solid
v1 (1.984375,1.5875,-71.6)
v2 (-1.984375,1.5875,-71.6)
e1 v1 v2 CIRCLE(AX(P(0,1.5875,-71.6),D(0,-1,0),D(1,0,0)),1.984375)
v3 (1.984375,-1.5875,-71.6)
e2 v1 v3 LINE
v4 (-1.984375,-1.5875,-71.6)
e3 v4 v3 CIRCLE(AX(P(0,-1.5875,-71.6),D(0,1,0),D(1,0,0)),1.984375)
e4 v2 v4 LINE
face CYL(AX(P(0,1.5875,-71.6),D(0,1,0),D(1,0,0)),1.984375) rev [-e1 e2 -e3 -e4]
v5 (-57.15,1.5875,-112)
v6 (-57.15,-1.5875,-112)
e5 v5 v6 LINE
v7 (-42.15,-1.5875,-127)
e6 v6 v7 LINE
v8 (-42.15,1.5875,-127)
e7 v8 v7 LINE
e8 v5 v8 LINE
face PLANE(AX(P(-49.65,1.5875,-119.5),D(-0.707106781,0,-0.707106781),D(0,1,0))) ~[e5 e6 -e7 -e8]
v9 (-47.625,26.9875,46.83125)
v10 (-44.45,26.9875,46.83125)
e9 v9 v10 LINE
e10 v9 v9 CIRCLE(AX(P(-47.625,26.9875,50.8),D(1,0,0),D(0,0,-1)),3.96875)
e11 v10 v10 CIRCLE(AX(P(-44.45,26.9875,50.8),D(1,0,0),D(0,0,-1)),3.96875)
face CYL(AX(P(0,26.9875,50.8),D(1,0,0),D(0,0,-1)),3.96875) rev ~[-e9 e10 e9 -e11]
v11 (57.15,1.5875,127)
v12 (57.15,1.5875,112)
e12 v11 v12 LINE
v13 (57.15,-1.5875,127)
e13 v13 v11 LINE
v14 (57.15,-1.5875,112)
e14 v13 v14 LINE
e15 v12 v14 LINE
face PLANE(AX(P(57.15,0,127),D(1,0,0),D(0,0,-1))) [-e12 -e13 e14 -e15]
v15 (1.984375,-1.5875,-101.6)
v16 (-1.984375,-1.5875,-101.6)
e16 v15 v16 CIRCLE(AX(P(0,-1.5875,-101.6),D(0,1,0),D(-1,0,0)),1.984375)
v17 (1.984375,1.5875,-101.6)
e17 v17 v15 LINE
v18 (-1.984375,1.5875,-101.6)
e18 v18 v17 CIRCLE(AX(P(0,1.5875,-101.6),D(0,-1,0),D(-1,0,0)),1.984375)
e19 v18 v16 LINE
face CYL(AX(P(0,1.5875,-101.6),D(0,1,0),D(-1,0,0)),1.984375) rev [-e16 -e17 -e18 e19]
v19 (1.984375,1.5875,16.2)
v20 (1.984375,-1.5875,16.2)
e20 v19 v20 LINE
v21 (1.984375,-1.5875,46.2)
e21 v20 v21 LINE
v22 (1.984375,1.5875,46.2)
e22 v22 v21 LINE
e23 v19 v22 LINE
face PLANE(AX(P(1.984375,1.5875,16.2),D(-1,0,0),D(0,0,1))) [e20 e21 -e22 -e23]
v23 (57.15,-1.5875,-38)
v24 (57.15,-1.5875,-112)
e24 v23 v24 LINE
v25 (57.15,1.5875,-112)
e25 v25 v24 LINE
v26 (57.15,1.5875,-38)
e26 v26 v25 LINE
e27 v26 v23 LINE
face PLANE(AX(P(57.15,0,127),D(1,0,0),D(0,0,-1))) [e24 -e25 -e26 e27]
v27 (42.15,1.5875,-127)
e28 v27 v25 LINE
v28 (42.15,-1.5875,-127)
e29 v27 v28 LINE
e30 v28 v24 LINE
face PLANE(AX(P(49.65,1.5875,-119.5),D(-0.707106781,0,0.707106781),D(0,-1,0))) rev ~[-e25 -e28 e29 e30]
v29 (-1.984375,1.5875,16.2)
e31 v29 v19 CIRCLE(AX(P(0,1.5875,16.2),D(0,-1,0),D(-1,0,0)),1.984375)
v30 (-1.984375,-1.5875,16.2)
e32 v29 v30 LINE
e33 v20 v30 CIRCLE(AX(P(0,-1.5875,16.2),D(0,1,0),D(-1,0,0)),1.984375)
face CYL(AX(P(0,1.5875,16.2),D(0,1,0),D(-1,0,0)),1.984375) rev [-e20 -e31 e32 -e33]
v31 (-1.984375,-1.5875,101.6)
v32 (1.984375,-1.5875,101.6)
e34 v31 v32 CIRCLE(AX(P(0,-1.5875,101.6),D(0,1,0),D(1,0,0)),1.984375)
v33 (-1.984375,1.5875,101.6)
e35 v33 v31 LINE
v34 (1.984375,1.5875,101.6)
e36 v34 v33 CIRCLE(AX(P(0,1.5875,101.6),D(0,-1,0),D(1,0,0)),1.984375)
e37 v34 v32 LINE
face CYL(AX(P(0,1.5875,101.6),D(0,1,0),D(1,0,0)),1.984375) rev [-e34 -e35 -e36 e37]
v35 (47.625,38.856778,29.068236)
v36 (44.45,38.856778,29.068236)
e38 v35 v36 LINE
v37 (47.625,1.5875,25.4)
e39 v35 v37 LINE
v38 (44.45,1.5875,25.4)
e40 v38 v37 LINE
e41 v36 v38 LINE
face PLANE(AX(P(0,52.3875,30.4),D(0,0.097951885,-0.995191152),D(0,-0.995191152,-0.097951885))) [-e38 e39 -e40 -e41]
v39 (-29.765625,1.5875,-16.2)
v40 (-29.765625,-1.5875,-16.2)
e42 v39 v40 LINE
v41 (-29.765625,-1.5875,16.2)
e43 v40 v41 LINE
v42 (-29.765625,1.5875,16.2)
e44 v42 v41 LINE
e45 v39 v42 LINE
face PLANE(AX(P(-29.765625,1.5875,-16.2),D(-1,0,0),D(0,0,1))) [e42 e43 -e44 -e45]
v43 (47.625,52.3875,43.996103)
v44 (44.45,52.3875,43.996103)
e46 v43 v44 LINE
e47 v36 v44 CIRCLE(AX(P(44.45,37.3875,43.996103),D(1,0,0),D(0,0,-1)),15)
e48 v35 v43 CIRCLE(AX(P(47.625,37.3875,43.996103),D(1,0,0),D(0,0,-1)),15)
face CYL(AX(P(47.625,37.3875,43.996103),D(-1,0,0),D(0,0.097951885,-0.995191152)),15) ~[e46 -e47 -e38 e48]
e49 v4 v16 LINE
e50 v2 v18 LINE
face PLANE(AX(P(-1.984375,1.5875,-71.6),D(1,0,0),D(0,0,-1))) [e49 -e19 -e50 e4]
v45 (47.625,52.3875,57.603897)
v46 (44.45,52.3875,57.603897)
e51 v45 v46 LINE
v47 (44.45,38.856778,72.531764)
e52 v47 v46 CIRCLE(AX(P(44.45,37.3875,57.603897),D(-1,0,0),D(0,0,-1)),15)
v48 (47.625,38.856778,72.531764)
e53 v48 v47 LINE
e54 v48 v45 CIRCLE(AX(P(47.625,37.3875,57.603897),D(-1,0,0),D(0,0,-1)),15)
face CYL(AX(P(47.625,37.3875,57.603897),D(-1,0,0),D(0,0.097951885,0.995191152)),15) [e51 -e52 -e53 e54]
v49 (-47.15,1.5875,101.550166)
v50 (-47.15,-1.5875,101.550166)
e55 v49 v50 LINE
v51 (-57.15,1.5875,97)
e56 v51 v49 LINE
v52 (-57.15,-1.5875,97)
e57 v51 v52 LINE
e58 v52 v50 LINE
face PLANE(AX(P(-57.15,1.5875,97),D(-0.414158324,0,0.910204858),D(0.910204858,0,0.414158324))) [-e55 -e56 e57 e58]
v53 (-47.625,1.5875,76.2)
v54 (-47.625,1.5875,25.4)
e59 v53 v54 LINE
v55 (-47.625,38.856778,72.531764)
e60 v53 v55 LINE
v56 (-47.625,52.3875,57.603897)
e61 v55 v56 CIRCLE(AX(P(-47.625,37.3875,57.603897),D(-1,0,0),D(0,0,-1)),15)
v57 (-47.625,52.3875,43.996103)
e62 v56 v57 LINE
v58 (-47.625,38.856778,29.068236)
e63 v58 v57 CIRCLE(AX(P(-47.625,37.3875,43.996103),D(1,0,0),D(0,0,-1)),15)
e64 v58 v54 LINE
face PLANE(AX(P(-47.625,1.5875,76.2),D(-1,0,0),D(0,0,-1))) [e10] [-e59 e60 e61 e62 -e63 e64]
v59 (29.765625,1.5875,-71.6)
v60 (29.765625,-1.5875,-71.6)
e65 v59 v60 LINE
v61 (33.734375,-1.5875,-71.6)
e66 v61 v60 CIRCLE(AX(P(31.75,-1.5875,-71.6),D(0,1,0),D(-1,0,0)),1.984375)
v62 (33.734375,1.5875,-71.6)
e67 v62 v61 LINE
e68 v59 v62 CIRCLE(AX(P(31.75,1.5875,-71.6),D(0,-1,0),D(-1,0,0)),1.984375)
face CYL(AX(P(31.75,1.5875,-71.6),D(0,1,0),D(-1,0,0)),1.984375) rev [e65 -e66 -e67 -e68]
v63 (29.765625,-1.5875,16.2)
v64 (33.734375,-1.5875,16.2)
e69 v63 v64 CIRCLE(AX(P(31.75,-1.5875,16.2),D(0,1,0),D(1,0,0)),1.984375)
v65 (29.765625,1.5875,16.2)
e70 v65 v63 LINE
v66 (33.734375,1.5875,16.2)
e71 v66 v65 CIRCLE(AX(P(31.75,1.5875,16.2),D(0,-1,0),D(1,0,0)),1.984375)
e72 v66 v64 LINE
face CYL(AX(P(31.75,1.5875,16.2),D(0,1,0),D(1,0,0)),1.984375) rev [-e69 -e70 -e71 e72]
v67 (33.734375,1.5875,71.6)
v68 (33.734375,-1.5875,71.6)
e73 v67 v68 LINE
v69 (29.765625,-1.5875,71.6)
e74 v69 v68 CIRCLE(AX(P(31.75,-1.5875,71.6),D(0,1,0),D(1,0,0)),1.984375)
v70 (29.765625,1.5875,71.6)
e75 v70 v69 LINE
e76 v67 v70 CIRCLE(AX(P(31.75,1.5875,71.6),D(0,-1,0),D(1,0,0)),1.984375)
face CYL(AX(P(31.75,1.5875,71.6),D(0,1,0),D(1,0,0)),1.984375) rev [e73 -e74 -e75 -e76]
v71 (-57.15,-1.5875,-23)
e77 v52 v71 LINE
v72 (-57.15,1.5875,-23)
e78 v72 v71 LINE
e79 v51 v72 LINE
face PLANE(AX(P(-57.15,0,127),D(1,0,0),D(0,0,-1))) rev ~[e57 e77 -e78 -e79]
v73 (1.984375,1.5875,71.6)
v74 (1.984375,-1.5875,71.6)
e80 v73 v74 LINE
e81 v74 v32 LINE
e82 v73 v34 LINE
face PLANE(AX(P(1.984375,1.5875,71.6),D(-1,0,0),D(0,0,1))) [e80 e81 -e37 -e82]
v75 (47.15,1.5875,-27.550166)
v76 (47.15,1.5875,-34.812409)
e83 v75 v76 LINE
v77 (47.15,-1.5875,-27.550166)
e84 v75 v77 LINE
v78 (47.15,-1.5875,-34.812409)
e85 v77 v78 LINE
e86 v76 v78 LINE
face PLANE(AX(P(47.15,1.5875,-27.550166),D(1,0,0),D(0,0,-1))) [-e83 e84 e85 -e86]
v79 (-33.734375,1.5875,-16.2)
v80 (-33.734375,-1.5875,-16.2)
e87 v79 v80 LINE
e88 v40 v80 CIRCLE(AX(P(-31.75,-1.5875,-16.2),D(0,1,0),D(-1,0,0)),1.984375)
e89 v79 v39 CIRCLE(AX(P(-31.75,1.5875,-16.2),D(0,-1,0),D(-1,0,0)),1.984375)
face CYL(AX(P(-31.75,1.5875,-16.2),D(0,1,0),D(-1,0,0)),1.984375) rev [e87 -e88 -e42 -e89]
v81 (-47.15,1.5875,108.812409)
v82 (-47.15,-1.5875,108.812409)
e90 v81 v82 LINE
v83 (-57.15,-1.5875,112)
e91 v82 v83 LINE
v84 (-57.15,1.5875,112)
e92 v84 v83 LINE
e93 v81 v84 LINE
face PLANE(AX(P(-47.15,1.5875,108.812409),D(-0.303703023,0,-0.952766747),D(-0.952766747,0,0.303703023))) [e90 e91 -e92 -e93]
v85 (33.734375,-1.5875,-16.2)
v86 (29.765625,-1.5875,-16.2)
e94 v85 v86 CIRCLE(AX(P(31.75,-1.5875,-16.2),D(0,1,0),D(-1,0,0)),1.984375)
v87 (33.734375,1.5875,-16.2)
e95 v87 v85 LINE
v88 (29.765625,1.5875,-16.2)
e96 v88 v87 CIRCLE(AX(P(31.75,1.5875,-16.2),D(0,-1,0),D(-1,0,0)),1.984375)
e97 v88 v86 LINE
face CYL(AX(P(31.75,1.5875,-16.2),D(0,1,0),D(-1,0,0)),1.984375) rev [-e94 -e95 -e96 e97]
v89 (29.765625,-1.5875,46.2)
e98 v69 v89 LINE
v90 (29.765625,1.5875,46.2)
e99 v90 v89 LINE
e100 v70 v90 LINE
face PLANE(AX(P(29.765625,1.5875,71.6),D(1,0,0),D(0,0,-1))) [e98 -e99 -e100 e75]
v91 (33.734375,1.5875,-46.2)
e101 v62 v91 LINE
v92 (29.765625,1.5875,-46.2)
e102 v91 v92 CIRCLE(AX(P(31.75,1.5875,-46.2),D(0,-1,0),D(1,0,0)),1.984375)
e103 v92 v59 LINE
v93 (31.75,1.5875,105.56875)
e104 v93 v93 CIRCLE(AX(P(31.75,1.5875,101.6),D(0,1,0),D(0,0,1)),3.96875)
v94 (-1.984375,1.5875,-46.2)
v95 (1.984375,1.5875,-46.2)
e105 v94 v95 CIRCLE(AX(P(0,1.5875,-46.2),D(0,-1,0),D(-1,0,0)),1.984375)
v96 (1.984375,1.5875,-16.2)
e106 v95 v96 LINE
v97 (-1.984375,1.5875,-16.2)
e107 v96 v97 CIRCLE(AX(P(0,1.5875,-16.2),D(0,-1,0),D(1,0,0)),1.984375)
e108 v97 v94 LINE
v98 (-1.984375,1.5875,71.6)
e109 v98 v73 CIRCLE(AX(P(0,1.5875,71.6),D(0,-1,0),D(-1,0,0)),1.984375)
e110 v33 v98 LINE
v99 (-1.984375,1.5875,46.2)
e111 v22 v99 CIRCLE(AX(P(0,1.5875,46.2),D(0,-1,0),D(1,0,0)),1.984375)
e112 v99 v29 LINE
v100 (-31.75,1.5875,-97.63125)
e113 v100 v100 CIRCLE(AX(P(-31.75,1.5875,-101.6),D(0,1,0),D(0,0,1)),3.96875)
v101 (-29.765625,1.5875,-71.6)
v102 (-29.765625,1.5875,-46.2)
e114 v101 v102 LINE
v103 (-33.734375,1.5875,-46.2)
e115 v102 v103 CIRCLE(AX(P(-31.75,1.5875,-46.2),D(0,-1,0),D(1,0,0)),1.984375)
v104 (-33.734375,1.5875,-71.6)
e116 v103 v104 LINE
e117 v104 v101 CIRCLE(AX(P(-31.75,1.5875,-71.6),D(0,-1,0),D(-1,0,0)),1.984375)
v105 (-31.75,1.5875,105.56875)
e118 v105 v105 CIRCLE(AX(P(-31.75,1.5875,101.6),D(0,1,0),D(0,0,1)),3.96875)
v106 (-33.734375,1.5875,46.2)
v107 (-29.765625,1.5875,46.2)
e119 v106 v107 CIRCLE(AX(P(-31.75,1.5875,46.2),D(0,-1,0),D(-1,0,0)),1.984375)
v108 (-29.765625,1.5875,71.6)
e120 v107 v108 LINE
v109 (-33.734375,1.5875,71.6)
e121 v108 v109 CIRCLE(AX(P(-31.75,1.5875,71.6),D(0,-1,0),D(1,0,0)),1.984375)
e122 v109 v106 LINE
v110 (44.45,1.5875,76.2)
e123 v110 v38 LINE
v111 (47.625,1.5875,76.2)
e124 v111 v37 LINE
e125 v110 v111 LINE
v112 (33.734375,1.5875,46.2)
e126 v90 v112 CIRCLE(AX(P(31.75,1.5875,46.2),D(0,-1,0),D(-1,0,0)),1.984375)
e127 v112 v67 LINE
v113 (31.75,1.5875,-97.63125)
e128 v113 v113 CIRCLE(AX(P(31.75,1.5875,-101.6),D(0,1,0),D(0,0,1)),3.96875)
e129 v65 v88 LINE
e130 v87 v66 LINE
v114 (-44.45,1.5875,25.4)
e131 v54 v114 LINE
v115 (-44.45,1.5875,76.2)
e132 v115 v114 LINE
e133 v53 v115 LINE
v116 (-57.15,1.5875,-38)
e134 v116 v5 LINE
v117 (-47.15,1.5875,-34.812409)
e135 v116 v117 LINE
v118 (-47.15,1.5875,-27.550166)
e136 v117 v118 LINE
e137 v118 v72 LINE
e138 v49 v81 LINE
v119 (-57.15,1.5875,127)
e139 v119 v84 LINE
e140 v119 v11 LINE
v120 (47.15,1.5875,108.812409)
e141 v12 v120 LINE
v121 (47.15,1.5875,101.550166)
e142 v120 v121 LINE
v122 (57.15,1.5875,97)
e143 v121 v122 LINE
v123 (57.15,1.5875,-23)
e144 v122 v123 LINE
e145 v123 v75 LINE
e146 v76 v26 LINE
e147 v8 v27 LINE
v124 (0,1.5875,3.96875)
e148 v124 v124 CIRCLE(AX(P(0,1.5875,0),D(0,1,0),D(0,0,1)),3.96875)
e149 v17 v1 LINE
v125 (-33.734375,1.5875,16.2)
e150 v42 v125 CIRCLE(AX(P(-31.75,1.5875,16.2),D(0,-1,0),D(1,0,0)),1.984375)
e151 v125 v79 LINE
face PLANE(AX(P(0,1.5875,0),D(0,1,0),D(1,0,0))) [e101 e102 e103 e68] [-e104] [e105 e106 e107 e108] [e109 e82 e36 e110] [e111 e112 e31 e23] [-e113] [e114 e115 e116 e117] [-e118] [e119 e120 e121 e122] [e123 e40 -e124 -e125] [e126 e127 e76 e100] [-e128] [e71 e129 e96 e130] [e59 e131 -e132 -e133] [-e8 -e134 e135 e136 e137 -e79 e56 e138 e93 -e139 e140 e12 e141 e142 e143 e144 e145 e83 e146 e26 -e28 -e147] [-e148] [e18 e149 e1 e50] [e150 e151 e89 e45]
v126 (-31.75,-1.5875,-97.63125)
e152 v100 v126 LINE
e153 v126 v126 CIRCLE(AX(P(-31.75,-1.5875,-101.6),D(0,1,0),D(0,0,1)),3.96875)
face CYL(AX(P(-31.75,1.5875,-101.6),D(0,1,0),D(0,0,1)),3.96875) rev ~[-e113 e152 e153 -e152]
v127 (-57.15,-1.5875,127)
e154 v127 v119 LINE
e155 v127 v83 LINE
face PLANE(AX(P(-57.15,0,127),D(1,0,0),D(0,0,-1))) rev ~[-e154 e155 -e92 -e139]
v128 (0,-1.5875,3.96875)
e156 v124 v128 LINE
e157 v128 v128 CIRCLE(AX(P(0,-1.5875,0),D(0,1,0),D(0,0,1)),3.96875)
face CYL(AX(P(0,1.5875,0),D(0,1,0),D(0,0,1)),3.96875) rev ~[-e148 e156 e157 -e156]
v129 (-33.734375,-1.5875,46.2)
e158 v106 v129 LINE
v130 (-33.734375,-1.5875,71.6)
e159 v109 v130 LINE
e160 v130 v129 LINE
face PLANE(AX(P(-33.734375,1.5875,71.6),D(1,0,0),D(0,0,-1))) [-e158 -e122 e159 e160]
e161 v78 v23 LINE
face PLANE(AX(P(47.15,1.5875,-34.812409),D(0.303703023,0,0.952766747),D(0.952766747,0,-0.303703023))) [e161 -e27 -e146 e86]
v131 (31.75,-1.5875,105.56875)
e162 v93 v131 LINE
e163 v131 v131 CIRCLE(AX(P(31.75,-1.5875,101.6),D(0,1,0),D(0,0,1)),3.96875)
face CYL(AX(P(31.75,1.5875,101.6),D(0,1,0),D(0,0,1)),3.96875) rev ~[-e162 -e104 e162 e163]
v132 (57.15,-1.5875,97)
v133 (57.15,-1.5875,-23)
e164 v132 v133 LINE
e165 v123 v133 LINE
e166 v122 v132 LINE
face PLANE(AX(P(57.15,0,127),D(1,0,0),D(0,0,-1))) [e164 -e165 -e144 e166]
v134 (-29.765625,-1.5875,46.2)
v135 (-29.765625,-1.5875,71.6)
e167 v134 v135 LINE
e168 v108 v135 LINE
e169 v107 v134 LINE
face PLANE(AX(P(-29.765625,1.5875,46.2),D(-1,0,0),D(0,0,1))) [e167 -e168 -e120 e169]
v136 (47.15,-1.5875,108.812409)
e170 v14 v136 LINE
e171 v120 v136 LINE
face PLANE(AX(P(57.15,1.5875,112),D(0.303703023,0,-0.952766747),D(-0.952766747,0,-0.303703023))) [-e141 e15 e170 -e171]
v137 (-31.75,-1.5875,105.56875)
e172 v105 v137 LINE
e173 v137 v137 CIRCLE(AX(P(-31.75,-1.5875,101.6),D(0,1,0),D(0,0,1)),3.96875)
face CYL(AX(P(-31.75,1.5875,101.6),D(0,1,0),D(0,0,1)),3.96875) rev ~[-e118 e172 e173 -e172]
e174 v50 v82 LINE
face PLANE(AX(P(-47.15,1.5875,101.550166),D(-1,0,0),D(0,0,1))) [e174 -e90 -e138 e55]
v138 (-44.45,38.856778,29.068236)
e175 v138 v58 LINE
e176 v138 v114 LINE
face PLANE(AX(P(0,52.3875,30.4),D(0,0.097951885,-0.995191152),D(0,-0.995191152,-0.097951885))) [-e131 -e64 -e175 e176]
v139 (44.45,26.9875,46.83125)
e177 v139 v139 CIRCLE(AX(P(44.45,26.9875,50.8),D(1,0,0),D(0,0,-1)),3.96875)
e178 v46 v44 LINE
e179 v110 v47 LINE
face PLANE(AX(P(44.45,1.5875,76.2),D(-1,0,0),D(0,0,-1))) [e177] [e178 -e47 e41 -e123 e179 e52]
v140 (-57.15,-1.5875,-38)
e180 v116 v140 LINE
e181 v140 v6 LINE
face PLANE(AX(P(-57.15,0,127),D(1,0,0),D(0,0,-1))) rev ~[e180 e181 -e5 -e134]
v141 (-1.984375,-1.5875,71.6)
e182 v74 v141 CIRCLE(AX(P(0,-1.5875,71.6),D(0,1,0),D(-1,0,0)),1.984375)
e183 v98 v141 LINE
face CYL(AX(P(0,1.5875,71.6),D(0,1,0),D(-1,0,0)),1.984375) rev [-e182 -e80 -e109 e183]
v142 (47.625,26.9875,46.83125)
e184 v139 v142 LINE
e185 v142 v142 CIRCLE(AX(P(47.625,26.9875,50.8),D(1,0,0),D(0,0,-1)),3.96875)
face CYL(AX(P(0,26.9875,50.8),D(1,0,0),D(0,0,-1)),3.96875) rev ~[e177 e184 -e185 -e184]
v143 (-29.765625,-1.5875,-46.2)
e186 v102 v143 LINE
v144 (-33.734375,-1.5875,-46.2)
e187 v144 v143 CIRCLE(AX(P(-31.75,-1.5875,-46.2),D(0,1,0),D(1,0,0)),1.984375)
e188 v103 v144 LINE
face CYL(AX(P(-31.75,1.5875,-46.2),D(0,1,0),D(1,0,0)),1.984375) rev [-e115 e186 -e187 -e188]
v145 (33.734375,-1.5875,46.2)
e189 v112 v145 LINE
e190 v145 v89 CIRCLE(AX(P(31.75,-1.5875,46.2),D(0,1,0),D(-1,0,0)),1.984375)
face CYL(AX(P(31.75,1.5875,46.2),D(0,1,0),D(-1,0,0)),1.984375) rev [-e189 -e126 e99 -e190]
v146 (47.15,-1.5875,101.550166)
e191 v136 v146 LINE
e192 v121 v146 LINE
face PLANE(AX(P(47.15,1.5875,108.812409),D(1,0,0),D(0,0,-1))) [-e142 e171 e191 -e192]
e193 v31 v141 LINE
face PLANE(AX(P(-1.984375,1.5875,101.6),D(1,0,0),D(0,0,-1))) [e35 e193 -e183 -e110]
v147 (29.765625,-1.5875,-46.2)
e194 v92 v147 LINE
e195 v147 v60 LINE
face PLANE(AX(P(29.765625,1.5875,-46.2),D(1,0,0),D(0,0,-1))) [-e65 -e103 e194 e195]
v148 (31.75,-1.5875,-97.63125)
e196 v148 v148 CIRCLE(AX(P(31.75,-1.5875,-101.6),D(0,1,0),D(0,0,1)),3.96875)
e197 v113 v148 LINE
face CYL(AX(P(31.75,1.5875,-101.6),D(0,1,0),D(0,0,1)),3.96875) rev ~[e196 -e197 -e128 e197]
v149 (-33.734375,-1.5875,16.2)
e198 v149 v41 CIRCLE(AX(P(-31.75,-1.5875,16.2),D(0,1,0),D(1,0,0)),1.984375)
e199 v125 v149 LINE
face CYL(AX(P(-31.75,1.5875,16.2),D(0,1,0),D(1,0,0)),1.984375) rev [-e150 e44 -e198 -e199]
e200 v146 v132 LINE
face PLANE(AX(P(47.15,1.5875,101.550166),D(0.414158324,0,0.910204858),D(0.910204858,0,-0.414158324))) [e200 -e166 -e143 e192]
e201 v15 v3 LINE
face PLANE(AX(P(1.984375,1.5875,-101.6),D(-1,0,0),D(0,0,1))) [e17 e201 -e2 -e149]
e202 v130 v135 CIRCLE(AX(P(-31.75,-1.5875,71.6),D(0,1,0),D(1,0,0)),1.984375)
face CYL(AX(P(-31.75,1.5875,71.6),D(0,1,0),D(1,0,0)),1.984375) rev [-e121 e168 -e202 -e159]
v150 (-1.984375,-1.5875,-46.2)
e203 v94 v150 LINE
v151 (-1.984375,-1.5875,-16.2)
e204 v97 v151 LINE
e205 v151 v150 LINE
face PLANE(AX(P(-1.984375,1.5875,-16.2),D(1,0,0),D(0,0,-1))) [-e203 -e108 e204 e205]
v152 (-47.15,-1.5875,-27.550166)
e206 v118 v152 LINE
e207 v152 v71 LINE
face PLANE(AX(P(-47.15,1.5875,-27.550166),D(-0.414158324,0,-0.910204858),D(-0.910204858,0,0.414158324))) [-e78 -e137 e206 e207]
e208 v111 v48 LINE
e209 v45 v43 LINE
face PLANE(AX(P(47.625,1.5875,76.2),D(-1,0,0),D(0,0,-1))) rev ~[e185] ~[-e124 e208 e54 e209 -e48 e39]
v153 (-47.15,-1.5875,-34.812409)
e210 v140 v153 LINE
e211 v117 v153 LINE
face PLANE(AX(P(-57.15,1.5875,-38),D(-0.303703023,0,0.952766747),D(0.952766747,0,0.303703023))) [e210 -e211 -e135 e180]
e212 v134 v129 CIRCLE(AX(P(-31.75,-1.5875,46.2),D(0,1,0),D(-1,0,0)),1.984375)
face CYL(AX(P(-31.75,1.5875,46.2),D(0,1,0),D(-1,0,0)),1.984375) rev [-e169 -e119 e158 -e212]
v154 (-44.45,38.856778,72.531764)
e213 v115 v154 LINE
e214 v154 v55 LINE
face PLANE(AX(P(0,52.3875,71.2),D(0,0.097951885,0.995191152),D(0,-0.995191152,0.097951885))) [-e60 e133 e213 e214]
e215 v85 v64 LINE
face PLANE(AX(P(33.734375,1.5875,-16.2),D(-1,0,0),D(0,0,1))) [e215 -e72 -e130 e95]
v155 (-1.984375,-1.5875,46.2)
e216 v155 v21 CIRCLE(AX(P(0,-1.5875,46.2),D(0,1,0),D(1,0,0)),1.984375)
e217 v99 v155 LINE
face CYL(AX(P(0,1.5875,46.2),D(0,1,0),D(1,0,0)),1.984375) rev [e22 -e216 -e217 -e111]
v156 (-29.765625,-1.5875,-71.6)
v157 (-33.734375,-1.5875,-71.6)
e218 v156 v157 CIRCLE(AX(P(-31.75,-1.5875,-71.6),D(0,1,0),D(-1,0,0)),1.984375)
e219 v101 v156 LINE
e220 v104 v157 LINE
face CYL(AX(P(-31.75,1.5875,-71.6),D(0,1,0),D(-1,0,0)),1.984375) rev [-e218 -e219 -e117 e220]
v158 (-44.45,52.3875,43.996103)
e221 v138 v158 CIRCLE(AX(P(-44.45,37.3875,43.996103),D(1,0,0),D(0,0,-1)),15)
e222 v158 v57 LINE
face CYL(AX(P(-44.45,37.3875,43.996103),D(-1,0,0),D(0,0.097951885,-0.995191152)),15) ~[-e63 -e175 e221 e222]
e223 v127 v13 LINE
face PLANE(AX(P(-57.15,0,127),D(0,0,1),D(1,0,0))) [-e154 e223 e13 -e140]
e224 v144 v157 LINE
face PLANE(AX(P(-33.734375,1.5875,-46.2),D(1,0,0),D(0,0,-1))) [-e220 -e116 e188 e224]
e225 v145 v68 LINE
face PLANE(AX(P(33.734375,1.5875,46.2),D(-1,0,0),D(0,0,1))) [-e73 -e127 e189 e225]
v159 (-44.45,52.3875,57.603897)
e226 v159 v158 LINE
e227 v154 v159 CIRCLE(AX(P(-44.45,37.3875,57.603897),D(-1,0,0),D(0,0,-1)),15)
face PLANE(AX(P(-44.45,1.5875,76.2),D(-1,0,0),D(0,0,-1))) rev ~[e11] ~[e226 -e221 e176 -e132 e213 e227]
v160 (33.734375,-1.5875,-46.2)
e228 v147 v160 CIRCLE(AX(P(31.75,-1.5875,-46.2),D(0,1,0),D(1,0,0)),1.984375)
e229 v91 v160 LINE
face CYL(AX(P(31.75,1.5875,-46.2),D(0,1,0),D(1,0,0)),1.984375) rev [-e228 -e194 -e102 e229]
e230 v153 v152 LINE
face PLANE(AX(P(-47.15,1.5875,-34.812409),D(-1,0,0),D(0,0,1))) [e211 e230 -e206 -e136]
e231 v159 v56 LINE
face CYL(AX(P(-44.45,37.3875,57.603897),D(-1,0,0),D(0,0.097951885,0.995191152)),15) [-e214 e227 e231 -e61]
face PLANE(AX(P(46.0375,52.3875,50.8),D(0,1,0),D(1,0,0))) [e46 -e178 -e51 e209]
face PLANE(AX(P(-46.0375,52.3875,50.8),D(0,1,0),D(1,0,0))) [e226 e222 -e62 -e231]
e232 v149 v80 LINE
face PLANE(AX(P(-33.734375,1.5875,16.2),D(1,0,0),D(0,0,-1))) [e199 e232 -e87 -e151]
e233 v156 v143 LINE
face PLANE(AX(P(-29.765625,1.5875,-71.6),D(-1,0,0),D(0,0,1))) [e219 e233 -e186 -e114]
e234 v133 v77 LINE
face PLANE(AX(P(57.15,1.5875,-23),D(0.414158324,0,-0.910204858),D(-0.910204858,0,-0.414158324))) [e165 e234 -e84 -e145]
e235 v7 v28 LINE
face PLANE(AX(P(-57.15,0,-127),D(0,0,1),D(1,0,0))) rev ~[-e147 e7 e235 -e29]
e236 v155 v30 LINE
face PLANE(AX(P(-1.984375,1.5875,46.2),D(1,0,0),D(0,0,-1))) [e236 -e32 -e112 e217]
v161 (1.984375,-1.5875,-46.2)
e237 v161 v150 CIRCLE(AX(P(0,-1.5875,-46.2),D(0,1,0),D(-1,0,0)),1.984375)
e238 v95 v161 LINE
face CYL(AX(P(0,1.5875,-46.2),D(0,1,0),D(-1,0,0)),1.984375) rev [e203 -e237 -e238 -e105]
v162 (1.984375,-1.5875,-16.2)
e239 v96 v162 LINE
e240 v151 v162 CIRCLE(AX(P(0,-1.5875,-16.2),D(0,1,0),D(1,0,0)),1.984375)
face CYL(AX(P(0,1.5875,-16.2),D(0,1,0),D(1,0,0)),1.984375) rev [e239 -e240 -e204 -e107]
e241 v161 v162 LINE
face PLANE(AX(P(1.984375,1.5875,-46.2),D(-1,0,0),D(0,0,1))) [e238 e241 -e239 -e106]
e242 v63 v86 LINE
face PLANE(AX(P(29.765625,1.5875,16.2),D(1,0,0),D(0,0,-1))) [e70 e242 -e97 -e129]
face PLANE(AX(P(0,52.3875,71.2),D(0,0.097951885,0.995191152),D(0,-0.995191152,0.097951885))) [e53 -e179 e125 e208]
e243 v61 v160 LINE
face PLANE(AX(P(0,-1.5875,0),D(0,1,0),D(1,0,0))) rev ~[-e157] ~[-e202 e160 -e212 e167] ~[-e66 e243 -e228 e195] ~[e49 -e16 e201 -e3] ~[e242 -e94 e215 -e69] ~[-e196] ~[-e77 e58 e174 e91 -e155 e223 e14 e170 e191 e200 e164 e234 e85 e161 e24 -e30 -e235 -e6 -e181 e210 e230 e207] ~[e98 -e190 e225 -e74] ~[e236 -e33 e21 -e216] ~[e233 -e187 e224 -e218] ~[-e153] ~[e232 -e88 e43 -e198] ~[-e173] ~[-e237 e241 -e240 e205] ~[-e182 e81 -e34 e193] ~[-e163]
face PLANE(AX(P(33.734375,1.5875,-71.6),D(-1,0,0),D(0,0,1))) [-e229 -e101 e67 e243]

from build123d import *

# Parameters (mm, degrees)
SKETCH1_W           = 114.3
SKETCH1_H           = 254
BOSS_EXTRUDE1_DEPTH = 1.5875
SKETCH2_W           = 3.175
SKETCH2_H           = 50.8
BOSS_EXTRUDE2_DEPTH = 50.8
CUT_EXTRUDE1_DEPTH  = 50
SKETCH4_R           = 3.96875
CUT_EXTRUDE2_DEPTH  = 50
SKETCH5_R           = 3.96875
CUT_EXTRUDE3_DEPTH  = 100
CHAMFER1_SIZE       = 15
FILLET1_R           = 15


with BuildPart() as part:
    # Sketch1 → Boss-Extrude1 (new, symmetric)
    with BuildSketch(Plane(origin=(0, 0, 0), x_dir=(1, 0, 0), z_dir=(0, 1, 0))):
        Rectangle(SKETCH1_W, SKETCH1_H)
    extrude(amount=BOSS_EXTRUDE1_DEPTH, both=True)

    # Sketch2 → Boss-Extrude2 (add)
    with BuildSketch(Plane(origin=(0, 1.5875, 0), x_dir=(1, 0, 0), z_dir=(0, 1, 0))):
        with Locations((46.0375, -50.8)):
            Rectangle(SKETCH2_W, SKETCH2_H)
        with Locations((-46.0375, -50.8)):
            Rectangle(SKETCH2_W, SKETCH2_H)
    extrude(amount=BOSS_EXTRUDE2_DEPTH)

    # Sketch3 → Cut-Extrude1 (cut, symmetric)
    with BuildSketch(Plane(origin=(0, 0, 0), x_dir=(0, 0, -1), z_dir=(1, 0, 0))):
        Polygon((-25.4, 1.5875), (-25.4, 52.3875), (-30.4, 52.3875), align=None)
        Polygon((-76.2, 52.3875), (-71.2, 52.3875), (-76.2, 1.5875), align=None)
    extrude(amount=CUT_EXTRUDE1_DEPTH, both=True, mode=Mode.SUBTRACT)

    # Sketch4 → Cut-Extrude2 (cut, symmetric)
    with BuildSketch(Plane(origin=(0, 0, 0), x_dir=(0, 0, -1), z_dir=(1, 0, 0))):
        with Locations((-50.8, 26.9875)):
            Circle(SKETCH4_R)
    extrude(amount=CUT_EXTRUDE2_DEPTH, both=True, mode=Mode.SUBTRACT)

    # Sketch5 → Cut-Extrude3 (cut)
    with BuildSketch(Plane(origin=(0, 1.5875, 0), x_dir=(1, 0, 0), z_dir=(0, 1, 0))):
        with Locations(Location((31.75, -101.6, 0), (0, 0, 270))):
            Circle(SKETCH5_R)
        with Locations(Location((-31.75, -101.6, 0), (0, 0, 270))):
            Circle(SKETCH5_R)
        with Locations(Location((31.75, 101.6, 0), (0, 0, 270))):
            Circle(SKETCH5_R)
        with Locations(Location((-31.75, 101.6, 0), (0, 0, 270))):
            Circle(SKETCH5_R)
        with Locations(Location((0, 0, 0), (0, 0, 270))):
            Circle(SKETCH5_R)
        with BuildLine():
            Line((-1.984375, -101.6), (-1.984375, -71.6))
            ThreePointArc((-1.984375, -71.6), (0, -69.615625), (1.984375, -71.6))
            Line((1.984375, -71.6), (1.984375, -101.6))
            ThreePointArc((1.984375, -101.6), (0, -103.584375), (-1.984375, -101.6))
        make_face()
        with BuildLine():
            Line((-1.984375, -46.2), (-1.984375, -16.2))
            ThreePointArc((-1.984375, -16.2), (0, -14.215625), (1.984375, -16.2))
            Line((1.984375, -16.2), (1.984375, -46.2))
            ThreePointArc((1.984375, -46.2), (0, -48.184375), (-1.984375, -46.2))
        make_face()
        with BuildLine():
            Line((-1.984375, 16.2), (-1.984375, 46.2))
            ThreePointArc((-1.984375, 46.2), (0, 48.184375), (1.984375, 46.2))
            Line((1.984375, 46.2), (1.984375, 16.2))
            ThreePointArc((1.984375, 16.2), (0, 14.215625), (-1.984375, 16.2))
        make_face()
        with BuildLine():
            Line((-1.984375, 71.6), (-1.984375, 101.6))
            ThreePointArc((-1.984375, 101.6), (0, 103.584375), (1.984375, 101.6))
            Line((1.984375, 101.6), (1.984375, 71.6))
            ThreePointArc((1.984375, 71.6), (0, 69.615625), (-1.984375, 71.6))
        make_face()
        with BuildLine():
            Line((33.734375, -46.2), (33.734375, -71.6))
            ThreePointArc((33.734375, -71.6), (31.75, -73.584375), (29.765625, -71.6))
            Line((29.765625, -71.6), (29.765625, -46.2))
            ThreePointArc((29.765625, -46.2), (31.75, -44.215625), (33.734375, -46.2))
        make_face()
        with BuildLine():
            Line((33.734375, 16.2), (33.734375, -16.2))
            ThreePointArc((33.734375, -16.2), (31.75, -18.184375), (29.765625, -16.2))
            Line((29.765625, -16.2), (29.765625, 16.2))
            ThreePointArc((29.765625, 16.2), (31.75, 18.184375), (33.734375, 16.2))
        make_face()
        with BuildLine():
            Line((33.734375, 71.6), (33.734375, 46.2))
            ThreePointArc((33.734375, 46.2), (31.75, 44.215625), (29.765625, 46.2))
            Line((29.765625, 46.2), (29.765625, 71.6))
            ThreePointArc((29.765625, 71.6), (31.75, 73.584375), (33.734375, 71.6))
        make_face()
        with BuildLine():
            Line((-29.765625, -46.2), (-29.765625, -71.6))
            ThreePointArc((-29.765625, -71.6), (-31.75, -73.584375), (-33.734375, -71.6))
            Line((-33.734375, -71.6), (-33.734375, -46.2))
            ThreePointArc((-33.734375, -46.2), (-31.75, -44.215625), (-29.765625, -46.2))
        make_face()
        with BuildLine():
            Line((-29.765625, 16.2), (-29.765625, -16.2))
            ThreePointArc((-29.765625, -16.2), (-31.75, -18.184375), (-33.734375, -16.2))
            Line((-33.734375, -16.2), (-33.734375, 16.2))
            ThreePointArc((-33.734375, 16.2), (-31.75, 18.184375), (-29.765625, 16.2))
        make_face()
        with BuildLine():
            Line((-29.765625, 71.6), (-29.765625, 46.2))
            ThreePointArc((-29.765625, 46.2), (-31.75, 44.215625), (-33.734375, 46.2))
            Line((-33.734375, 46.2), (-33.734375, 71.6))
            ThreePointArc((-33.734375, 71.6), (-31.75, 73.584375), (-29.765625, 71.6))
        make_face()
        Polygon((57.15, 38), (57.15, 23), (47.15, 27.550166045), (47.15, 34.812409498), align=None)
        Polygon((-47.15, 27.550166045), (-57.15, 23), (-57.15, 38), (-47.15, 34.812409498), align=None)
        Polygon((47.15, -101.550166045), (57.15, -97), (57.15, -112), (47.15, -108.812409498), align=None)
        Polygon((-57.15, -112), (-57.15, -97), (-47.15, -101.550166045), (-47.15, -108.812409498), align=None)
    extrude(amount=-CUT_EXTRUDE3_DEPTH, mode=Mode.SUBTRACT)

    # Chamfer1
    chamfer1_edges = [part.edges().sort_by_distance(p)[0] for p in [
        (-57.15, 0, -127),
        (57.15, 0, -127),
    ]]
    chamfer(chamfer1_edges, length=CHAMFER1_SIZE)

    # Fillet1
    fillet1_edges = [part.edges().sort_by_distance(p)[0] for p in [
        (-46.0375, 52.3875, 71.2),
        (-46.0375, 52.3875, 30.4),
        (46.0375, 52.3875, 30.4),
        (46.0375, 52.3875, 71.2),
    ]]
    fillet(fillet1_edges, radius=FILLET1_R)


solid = part.part
